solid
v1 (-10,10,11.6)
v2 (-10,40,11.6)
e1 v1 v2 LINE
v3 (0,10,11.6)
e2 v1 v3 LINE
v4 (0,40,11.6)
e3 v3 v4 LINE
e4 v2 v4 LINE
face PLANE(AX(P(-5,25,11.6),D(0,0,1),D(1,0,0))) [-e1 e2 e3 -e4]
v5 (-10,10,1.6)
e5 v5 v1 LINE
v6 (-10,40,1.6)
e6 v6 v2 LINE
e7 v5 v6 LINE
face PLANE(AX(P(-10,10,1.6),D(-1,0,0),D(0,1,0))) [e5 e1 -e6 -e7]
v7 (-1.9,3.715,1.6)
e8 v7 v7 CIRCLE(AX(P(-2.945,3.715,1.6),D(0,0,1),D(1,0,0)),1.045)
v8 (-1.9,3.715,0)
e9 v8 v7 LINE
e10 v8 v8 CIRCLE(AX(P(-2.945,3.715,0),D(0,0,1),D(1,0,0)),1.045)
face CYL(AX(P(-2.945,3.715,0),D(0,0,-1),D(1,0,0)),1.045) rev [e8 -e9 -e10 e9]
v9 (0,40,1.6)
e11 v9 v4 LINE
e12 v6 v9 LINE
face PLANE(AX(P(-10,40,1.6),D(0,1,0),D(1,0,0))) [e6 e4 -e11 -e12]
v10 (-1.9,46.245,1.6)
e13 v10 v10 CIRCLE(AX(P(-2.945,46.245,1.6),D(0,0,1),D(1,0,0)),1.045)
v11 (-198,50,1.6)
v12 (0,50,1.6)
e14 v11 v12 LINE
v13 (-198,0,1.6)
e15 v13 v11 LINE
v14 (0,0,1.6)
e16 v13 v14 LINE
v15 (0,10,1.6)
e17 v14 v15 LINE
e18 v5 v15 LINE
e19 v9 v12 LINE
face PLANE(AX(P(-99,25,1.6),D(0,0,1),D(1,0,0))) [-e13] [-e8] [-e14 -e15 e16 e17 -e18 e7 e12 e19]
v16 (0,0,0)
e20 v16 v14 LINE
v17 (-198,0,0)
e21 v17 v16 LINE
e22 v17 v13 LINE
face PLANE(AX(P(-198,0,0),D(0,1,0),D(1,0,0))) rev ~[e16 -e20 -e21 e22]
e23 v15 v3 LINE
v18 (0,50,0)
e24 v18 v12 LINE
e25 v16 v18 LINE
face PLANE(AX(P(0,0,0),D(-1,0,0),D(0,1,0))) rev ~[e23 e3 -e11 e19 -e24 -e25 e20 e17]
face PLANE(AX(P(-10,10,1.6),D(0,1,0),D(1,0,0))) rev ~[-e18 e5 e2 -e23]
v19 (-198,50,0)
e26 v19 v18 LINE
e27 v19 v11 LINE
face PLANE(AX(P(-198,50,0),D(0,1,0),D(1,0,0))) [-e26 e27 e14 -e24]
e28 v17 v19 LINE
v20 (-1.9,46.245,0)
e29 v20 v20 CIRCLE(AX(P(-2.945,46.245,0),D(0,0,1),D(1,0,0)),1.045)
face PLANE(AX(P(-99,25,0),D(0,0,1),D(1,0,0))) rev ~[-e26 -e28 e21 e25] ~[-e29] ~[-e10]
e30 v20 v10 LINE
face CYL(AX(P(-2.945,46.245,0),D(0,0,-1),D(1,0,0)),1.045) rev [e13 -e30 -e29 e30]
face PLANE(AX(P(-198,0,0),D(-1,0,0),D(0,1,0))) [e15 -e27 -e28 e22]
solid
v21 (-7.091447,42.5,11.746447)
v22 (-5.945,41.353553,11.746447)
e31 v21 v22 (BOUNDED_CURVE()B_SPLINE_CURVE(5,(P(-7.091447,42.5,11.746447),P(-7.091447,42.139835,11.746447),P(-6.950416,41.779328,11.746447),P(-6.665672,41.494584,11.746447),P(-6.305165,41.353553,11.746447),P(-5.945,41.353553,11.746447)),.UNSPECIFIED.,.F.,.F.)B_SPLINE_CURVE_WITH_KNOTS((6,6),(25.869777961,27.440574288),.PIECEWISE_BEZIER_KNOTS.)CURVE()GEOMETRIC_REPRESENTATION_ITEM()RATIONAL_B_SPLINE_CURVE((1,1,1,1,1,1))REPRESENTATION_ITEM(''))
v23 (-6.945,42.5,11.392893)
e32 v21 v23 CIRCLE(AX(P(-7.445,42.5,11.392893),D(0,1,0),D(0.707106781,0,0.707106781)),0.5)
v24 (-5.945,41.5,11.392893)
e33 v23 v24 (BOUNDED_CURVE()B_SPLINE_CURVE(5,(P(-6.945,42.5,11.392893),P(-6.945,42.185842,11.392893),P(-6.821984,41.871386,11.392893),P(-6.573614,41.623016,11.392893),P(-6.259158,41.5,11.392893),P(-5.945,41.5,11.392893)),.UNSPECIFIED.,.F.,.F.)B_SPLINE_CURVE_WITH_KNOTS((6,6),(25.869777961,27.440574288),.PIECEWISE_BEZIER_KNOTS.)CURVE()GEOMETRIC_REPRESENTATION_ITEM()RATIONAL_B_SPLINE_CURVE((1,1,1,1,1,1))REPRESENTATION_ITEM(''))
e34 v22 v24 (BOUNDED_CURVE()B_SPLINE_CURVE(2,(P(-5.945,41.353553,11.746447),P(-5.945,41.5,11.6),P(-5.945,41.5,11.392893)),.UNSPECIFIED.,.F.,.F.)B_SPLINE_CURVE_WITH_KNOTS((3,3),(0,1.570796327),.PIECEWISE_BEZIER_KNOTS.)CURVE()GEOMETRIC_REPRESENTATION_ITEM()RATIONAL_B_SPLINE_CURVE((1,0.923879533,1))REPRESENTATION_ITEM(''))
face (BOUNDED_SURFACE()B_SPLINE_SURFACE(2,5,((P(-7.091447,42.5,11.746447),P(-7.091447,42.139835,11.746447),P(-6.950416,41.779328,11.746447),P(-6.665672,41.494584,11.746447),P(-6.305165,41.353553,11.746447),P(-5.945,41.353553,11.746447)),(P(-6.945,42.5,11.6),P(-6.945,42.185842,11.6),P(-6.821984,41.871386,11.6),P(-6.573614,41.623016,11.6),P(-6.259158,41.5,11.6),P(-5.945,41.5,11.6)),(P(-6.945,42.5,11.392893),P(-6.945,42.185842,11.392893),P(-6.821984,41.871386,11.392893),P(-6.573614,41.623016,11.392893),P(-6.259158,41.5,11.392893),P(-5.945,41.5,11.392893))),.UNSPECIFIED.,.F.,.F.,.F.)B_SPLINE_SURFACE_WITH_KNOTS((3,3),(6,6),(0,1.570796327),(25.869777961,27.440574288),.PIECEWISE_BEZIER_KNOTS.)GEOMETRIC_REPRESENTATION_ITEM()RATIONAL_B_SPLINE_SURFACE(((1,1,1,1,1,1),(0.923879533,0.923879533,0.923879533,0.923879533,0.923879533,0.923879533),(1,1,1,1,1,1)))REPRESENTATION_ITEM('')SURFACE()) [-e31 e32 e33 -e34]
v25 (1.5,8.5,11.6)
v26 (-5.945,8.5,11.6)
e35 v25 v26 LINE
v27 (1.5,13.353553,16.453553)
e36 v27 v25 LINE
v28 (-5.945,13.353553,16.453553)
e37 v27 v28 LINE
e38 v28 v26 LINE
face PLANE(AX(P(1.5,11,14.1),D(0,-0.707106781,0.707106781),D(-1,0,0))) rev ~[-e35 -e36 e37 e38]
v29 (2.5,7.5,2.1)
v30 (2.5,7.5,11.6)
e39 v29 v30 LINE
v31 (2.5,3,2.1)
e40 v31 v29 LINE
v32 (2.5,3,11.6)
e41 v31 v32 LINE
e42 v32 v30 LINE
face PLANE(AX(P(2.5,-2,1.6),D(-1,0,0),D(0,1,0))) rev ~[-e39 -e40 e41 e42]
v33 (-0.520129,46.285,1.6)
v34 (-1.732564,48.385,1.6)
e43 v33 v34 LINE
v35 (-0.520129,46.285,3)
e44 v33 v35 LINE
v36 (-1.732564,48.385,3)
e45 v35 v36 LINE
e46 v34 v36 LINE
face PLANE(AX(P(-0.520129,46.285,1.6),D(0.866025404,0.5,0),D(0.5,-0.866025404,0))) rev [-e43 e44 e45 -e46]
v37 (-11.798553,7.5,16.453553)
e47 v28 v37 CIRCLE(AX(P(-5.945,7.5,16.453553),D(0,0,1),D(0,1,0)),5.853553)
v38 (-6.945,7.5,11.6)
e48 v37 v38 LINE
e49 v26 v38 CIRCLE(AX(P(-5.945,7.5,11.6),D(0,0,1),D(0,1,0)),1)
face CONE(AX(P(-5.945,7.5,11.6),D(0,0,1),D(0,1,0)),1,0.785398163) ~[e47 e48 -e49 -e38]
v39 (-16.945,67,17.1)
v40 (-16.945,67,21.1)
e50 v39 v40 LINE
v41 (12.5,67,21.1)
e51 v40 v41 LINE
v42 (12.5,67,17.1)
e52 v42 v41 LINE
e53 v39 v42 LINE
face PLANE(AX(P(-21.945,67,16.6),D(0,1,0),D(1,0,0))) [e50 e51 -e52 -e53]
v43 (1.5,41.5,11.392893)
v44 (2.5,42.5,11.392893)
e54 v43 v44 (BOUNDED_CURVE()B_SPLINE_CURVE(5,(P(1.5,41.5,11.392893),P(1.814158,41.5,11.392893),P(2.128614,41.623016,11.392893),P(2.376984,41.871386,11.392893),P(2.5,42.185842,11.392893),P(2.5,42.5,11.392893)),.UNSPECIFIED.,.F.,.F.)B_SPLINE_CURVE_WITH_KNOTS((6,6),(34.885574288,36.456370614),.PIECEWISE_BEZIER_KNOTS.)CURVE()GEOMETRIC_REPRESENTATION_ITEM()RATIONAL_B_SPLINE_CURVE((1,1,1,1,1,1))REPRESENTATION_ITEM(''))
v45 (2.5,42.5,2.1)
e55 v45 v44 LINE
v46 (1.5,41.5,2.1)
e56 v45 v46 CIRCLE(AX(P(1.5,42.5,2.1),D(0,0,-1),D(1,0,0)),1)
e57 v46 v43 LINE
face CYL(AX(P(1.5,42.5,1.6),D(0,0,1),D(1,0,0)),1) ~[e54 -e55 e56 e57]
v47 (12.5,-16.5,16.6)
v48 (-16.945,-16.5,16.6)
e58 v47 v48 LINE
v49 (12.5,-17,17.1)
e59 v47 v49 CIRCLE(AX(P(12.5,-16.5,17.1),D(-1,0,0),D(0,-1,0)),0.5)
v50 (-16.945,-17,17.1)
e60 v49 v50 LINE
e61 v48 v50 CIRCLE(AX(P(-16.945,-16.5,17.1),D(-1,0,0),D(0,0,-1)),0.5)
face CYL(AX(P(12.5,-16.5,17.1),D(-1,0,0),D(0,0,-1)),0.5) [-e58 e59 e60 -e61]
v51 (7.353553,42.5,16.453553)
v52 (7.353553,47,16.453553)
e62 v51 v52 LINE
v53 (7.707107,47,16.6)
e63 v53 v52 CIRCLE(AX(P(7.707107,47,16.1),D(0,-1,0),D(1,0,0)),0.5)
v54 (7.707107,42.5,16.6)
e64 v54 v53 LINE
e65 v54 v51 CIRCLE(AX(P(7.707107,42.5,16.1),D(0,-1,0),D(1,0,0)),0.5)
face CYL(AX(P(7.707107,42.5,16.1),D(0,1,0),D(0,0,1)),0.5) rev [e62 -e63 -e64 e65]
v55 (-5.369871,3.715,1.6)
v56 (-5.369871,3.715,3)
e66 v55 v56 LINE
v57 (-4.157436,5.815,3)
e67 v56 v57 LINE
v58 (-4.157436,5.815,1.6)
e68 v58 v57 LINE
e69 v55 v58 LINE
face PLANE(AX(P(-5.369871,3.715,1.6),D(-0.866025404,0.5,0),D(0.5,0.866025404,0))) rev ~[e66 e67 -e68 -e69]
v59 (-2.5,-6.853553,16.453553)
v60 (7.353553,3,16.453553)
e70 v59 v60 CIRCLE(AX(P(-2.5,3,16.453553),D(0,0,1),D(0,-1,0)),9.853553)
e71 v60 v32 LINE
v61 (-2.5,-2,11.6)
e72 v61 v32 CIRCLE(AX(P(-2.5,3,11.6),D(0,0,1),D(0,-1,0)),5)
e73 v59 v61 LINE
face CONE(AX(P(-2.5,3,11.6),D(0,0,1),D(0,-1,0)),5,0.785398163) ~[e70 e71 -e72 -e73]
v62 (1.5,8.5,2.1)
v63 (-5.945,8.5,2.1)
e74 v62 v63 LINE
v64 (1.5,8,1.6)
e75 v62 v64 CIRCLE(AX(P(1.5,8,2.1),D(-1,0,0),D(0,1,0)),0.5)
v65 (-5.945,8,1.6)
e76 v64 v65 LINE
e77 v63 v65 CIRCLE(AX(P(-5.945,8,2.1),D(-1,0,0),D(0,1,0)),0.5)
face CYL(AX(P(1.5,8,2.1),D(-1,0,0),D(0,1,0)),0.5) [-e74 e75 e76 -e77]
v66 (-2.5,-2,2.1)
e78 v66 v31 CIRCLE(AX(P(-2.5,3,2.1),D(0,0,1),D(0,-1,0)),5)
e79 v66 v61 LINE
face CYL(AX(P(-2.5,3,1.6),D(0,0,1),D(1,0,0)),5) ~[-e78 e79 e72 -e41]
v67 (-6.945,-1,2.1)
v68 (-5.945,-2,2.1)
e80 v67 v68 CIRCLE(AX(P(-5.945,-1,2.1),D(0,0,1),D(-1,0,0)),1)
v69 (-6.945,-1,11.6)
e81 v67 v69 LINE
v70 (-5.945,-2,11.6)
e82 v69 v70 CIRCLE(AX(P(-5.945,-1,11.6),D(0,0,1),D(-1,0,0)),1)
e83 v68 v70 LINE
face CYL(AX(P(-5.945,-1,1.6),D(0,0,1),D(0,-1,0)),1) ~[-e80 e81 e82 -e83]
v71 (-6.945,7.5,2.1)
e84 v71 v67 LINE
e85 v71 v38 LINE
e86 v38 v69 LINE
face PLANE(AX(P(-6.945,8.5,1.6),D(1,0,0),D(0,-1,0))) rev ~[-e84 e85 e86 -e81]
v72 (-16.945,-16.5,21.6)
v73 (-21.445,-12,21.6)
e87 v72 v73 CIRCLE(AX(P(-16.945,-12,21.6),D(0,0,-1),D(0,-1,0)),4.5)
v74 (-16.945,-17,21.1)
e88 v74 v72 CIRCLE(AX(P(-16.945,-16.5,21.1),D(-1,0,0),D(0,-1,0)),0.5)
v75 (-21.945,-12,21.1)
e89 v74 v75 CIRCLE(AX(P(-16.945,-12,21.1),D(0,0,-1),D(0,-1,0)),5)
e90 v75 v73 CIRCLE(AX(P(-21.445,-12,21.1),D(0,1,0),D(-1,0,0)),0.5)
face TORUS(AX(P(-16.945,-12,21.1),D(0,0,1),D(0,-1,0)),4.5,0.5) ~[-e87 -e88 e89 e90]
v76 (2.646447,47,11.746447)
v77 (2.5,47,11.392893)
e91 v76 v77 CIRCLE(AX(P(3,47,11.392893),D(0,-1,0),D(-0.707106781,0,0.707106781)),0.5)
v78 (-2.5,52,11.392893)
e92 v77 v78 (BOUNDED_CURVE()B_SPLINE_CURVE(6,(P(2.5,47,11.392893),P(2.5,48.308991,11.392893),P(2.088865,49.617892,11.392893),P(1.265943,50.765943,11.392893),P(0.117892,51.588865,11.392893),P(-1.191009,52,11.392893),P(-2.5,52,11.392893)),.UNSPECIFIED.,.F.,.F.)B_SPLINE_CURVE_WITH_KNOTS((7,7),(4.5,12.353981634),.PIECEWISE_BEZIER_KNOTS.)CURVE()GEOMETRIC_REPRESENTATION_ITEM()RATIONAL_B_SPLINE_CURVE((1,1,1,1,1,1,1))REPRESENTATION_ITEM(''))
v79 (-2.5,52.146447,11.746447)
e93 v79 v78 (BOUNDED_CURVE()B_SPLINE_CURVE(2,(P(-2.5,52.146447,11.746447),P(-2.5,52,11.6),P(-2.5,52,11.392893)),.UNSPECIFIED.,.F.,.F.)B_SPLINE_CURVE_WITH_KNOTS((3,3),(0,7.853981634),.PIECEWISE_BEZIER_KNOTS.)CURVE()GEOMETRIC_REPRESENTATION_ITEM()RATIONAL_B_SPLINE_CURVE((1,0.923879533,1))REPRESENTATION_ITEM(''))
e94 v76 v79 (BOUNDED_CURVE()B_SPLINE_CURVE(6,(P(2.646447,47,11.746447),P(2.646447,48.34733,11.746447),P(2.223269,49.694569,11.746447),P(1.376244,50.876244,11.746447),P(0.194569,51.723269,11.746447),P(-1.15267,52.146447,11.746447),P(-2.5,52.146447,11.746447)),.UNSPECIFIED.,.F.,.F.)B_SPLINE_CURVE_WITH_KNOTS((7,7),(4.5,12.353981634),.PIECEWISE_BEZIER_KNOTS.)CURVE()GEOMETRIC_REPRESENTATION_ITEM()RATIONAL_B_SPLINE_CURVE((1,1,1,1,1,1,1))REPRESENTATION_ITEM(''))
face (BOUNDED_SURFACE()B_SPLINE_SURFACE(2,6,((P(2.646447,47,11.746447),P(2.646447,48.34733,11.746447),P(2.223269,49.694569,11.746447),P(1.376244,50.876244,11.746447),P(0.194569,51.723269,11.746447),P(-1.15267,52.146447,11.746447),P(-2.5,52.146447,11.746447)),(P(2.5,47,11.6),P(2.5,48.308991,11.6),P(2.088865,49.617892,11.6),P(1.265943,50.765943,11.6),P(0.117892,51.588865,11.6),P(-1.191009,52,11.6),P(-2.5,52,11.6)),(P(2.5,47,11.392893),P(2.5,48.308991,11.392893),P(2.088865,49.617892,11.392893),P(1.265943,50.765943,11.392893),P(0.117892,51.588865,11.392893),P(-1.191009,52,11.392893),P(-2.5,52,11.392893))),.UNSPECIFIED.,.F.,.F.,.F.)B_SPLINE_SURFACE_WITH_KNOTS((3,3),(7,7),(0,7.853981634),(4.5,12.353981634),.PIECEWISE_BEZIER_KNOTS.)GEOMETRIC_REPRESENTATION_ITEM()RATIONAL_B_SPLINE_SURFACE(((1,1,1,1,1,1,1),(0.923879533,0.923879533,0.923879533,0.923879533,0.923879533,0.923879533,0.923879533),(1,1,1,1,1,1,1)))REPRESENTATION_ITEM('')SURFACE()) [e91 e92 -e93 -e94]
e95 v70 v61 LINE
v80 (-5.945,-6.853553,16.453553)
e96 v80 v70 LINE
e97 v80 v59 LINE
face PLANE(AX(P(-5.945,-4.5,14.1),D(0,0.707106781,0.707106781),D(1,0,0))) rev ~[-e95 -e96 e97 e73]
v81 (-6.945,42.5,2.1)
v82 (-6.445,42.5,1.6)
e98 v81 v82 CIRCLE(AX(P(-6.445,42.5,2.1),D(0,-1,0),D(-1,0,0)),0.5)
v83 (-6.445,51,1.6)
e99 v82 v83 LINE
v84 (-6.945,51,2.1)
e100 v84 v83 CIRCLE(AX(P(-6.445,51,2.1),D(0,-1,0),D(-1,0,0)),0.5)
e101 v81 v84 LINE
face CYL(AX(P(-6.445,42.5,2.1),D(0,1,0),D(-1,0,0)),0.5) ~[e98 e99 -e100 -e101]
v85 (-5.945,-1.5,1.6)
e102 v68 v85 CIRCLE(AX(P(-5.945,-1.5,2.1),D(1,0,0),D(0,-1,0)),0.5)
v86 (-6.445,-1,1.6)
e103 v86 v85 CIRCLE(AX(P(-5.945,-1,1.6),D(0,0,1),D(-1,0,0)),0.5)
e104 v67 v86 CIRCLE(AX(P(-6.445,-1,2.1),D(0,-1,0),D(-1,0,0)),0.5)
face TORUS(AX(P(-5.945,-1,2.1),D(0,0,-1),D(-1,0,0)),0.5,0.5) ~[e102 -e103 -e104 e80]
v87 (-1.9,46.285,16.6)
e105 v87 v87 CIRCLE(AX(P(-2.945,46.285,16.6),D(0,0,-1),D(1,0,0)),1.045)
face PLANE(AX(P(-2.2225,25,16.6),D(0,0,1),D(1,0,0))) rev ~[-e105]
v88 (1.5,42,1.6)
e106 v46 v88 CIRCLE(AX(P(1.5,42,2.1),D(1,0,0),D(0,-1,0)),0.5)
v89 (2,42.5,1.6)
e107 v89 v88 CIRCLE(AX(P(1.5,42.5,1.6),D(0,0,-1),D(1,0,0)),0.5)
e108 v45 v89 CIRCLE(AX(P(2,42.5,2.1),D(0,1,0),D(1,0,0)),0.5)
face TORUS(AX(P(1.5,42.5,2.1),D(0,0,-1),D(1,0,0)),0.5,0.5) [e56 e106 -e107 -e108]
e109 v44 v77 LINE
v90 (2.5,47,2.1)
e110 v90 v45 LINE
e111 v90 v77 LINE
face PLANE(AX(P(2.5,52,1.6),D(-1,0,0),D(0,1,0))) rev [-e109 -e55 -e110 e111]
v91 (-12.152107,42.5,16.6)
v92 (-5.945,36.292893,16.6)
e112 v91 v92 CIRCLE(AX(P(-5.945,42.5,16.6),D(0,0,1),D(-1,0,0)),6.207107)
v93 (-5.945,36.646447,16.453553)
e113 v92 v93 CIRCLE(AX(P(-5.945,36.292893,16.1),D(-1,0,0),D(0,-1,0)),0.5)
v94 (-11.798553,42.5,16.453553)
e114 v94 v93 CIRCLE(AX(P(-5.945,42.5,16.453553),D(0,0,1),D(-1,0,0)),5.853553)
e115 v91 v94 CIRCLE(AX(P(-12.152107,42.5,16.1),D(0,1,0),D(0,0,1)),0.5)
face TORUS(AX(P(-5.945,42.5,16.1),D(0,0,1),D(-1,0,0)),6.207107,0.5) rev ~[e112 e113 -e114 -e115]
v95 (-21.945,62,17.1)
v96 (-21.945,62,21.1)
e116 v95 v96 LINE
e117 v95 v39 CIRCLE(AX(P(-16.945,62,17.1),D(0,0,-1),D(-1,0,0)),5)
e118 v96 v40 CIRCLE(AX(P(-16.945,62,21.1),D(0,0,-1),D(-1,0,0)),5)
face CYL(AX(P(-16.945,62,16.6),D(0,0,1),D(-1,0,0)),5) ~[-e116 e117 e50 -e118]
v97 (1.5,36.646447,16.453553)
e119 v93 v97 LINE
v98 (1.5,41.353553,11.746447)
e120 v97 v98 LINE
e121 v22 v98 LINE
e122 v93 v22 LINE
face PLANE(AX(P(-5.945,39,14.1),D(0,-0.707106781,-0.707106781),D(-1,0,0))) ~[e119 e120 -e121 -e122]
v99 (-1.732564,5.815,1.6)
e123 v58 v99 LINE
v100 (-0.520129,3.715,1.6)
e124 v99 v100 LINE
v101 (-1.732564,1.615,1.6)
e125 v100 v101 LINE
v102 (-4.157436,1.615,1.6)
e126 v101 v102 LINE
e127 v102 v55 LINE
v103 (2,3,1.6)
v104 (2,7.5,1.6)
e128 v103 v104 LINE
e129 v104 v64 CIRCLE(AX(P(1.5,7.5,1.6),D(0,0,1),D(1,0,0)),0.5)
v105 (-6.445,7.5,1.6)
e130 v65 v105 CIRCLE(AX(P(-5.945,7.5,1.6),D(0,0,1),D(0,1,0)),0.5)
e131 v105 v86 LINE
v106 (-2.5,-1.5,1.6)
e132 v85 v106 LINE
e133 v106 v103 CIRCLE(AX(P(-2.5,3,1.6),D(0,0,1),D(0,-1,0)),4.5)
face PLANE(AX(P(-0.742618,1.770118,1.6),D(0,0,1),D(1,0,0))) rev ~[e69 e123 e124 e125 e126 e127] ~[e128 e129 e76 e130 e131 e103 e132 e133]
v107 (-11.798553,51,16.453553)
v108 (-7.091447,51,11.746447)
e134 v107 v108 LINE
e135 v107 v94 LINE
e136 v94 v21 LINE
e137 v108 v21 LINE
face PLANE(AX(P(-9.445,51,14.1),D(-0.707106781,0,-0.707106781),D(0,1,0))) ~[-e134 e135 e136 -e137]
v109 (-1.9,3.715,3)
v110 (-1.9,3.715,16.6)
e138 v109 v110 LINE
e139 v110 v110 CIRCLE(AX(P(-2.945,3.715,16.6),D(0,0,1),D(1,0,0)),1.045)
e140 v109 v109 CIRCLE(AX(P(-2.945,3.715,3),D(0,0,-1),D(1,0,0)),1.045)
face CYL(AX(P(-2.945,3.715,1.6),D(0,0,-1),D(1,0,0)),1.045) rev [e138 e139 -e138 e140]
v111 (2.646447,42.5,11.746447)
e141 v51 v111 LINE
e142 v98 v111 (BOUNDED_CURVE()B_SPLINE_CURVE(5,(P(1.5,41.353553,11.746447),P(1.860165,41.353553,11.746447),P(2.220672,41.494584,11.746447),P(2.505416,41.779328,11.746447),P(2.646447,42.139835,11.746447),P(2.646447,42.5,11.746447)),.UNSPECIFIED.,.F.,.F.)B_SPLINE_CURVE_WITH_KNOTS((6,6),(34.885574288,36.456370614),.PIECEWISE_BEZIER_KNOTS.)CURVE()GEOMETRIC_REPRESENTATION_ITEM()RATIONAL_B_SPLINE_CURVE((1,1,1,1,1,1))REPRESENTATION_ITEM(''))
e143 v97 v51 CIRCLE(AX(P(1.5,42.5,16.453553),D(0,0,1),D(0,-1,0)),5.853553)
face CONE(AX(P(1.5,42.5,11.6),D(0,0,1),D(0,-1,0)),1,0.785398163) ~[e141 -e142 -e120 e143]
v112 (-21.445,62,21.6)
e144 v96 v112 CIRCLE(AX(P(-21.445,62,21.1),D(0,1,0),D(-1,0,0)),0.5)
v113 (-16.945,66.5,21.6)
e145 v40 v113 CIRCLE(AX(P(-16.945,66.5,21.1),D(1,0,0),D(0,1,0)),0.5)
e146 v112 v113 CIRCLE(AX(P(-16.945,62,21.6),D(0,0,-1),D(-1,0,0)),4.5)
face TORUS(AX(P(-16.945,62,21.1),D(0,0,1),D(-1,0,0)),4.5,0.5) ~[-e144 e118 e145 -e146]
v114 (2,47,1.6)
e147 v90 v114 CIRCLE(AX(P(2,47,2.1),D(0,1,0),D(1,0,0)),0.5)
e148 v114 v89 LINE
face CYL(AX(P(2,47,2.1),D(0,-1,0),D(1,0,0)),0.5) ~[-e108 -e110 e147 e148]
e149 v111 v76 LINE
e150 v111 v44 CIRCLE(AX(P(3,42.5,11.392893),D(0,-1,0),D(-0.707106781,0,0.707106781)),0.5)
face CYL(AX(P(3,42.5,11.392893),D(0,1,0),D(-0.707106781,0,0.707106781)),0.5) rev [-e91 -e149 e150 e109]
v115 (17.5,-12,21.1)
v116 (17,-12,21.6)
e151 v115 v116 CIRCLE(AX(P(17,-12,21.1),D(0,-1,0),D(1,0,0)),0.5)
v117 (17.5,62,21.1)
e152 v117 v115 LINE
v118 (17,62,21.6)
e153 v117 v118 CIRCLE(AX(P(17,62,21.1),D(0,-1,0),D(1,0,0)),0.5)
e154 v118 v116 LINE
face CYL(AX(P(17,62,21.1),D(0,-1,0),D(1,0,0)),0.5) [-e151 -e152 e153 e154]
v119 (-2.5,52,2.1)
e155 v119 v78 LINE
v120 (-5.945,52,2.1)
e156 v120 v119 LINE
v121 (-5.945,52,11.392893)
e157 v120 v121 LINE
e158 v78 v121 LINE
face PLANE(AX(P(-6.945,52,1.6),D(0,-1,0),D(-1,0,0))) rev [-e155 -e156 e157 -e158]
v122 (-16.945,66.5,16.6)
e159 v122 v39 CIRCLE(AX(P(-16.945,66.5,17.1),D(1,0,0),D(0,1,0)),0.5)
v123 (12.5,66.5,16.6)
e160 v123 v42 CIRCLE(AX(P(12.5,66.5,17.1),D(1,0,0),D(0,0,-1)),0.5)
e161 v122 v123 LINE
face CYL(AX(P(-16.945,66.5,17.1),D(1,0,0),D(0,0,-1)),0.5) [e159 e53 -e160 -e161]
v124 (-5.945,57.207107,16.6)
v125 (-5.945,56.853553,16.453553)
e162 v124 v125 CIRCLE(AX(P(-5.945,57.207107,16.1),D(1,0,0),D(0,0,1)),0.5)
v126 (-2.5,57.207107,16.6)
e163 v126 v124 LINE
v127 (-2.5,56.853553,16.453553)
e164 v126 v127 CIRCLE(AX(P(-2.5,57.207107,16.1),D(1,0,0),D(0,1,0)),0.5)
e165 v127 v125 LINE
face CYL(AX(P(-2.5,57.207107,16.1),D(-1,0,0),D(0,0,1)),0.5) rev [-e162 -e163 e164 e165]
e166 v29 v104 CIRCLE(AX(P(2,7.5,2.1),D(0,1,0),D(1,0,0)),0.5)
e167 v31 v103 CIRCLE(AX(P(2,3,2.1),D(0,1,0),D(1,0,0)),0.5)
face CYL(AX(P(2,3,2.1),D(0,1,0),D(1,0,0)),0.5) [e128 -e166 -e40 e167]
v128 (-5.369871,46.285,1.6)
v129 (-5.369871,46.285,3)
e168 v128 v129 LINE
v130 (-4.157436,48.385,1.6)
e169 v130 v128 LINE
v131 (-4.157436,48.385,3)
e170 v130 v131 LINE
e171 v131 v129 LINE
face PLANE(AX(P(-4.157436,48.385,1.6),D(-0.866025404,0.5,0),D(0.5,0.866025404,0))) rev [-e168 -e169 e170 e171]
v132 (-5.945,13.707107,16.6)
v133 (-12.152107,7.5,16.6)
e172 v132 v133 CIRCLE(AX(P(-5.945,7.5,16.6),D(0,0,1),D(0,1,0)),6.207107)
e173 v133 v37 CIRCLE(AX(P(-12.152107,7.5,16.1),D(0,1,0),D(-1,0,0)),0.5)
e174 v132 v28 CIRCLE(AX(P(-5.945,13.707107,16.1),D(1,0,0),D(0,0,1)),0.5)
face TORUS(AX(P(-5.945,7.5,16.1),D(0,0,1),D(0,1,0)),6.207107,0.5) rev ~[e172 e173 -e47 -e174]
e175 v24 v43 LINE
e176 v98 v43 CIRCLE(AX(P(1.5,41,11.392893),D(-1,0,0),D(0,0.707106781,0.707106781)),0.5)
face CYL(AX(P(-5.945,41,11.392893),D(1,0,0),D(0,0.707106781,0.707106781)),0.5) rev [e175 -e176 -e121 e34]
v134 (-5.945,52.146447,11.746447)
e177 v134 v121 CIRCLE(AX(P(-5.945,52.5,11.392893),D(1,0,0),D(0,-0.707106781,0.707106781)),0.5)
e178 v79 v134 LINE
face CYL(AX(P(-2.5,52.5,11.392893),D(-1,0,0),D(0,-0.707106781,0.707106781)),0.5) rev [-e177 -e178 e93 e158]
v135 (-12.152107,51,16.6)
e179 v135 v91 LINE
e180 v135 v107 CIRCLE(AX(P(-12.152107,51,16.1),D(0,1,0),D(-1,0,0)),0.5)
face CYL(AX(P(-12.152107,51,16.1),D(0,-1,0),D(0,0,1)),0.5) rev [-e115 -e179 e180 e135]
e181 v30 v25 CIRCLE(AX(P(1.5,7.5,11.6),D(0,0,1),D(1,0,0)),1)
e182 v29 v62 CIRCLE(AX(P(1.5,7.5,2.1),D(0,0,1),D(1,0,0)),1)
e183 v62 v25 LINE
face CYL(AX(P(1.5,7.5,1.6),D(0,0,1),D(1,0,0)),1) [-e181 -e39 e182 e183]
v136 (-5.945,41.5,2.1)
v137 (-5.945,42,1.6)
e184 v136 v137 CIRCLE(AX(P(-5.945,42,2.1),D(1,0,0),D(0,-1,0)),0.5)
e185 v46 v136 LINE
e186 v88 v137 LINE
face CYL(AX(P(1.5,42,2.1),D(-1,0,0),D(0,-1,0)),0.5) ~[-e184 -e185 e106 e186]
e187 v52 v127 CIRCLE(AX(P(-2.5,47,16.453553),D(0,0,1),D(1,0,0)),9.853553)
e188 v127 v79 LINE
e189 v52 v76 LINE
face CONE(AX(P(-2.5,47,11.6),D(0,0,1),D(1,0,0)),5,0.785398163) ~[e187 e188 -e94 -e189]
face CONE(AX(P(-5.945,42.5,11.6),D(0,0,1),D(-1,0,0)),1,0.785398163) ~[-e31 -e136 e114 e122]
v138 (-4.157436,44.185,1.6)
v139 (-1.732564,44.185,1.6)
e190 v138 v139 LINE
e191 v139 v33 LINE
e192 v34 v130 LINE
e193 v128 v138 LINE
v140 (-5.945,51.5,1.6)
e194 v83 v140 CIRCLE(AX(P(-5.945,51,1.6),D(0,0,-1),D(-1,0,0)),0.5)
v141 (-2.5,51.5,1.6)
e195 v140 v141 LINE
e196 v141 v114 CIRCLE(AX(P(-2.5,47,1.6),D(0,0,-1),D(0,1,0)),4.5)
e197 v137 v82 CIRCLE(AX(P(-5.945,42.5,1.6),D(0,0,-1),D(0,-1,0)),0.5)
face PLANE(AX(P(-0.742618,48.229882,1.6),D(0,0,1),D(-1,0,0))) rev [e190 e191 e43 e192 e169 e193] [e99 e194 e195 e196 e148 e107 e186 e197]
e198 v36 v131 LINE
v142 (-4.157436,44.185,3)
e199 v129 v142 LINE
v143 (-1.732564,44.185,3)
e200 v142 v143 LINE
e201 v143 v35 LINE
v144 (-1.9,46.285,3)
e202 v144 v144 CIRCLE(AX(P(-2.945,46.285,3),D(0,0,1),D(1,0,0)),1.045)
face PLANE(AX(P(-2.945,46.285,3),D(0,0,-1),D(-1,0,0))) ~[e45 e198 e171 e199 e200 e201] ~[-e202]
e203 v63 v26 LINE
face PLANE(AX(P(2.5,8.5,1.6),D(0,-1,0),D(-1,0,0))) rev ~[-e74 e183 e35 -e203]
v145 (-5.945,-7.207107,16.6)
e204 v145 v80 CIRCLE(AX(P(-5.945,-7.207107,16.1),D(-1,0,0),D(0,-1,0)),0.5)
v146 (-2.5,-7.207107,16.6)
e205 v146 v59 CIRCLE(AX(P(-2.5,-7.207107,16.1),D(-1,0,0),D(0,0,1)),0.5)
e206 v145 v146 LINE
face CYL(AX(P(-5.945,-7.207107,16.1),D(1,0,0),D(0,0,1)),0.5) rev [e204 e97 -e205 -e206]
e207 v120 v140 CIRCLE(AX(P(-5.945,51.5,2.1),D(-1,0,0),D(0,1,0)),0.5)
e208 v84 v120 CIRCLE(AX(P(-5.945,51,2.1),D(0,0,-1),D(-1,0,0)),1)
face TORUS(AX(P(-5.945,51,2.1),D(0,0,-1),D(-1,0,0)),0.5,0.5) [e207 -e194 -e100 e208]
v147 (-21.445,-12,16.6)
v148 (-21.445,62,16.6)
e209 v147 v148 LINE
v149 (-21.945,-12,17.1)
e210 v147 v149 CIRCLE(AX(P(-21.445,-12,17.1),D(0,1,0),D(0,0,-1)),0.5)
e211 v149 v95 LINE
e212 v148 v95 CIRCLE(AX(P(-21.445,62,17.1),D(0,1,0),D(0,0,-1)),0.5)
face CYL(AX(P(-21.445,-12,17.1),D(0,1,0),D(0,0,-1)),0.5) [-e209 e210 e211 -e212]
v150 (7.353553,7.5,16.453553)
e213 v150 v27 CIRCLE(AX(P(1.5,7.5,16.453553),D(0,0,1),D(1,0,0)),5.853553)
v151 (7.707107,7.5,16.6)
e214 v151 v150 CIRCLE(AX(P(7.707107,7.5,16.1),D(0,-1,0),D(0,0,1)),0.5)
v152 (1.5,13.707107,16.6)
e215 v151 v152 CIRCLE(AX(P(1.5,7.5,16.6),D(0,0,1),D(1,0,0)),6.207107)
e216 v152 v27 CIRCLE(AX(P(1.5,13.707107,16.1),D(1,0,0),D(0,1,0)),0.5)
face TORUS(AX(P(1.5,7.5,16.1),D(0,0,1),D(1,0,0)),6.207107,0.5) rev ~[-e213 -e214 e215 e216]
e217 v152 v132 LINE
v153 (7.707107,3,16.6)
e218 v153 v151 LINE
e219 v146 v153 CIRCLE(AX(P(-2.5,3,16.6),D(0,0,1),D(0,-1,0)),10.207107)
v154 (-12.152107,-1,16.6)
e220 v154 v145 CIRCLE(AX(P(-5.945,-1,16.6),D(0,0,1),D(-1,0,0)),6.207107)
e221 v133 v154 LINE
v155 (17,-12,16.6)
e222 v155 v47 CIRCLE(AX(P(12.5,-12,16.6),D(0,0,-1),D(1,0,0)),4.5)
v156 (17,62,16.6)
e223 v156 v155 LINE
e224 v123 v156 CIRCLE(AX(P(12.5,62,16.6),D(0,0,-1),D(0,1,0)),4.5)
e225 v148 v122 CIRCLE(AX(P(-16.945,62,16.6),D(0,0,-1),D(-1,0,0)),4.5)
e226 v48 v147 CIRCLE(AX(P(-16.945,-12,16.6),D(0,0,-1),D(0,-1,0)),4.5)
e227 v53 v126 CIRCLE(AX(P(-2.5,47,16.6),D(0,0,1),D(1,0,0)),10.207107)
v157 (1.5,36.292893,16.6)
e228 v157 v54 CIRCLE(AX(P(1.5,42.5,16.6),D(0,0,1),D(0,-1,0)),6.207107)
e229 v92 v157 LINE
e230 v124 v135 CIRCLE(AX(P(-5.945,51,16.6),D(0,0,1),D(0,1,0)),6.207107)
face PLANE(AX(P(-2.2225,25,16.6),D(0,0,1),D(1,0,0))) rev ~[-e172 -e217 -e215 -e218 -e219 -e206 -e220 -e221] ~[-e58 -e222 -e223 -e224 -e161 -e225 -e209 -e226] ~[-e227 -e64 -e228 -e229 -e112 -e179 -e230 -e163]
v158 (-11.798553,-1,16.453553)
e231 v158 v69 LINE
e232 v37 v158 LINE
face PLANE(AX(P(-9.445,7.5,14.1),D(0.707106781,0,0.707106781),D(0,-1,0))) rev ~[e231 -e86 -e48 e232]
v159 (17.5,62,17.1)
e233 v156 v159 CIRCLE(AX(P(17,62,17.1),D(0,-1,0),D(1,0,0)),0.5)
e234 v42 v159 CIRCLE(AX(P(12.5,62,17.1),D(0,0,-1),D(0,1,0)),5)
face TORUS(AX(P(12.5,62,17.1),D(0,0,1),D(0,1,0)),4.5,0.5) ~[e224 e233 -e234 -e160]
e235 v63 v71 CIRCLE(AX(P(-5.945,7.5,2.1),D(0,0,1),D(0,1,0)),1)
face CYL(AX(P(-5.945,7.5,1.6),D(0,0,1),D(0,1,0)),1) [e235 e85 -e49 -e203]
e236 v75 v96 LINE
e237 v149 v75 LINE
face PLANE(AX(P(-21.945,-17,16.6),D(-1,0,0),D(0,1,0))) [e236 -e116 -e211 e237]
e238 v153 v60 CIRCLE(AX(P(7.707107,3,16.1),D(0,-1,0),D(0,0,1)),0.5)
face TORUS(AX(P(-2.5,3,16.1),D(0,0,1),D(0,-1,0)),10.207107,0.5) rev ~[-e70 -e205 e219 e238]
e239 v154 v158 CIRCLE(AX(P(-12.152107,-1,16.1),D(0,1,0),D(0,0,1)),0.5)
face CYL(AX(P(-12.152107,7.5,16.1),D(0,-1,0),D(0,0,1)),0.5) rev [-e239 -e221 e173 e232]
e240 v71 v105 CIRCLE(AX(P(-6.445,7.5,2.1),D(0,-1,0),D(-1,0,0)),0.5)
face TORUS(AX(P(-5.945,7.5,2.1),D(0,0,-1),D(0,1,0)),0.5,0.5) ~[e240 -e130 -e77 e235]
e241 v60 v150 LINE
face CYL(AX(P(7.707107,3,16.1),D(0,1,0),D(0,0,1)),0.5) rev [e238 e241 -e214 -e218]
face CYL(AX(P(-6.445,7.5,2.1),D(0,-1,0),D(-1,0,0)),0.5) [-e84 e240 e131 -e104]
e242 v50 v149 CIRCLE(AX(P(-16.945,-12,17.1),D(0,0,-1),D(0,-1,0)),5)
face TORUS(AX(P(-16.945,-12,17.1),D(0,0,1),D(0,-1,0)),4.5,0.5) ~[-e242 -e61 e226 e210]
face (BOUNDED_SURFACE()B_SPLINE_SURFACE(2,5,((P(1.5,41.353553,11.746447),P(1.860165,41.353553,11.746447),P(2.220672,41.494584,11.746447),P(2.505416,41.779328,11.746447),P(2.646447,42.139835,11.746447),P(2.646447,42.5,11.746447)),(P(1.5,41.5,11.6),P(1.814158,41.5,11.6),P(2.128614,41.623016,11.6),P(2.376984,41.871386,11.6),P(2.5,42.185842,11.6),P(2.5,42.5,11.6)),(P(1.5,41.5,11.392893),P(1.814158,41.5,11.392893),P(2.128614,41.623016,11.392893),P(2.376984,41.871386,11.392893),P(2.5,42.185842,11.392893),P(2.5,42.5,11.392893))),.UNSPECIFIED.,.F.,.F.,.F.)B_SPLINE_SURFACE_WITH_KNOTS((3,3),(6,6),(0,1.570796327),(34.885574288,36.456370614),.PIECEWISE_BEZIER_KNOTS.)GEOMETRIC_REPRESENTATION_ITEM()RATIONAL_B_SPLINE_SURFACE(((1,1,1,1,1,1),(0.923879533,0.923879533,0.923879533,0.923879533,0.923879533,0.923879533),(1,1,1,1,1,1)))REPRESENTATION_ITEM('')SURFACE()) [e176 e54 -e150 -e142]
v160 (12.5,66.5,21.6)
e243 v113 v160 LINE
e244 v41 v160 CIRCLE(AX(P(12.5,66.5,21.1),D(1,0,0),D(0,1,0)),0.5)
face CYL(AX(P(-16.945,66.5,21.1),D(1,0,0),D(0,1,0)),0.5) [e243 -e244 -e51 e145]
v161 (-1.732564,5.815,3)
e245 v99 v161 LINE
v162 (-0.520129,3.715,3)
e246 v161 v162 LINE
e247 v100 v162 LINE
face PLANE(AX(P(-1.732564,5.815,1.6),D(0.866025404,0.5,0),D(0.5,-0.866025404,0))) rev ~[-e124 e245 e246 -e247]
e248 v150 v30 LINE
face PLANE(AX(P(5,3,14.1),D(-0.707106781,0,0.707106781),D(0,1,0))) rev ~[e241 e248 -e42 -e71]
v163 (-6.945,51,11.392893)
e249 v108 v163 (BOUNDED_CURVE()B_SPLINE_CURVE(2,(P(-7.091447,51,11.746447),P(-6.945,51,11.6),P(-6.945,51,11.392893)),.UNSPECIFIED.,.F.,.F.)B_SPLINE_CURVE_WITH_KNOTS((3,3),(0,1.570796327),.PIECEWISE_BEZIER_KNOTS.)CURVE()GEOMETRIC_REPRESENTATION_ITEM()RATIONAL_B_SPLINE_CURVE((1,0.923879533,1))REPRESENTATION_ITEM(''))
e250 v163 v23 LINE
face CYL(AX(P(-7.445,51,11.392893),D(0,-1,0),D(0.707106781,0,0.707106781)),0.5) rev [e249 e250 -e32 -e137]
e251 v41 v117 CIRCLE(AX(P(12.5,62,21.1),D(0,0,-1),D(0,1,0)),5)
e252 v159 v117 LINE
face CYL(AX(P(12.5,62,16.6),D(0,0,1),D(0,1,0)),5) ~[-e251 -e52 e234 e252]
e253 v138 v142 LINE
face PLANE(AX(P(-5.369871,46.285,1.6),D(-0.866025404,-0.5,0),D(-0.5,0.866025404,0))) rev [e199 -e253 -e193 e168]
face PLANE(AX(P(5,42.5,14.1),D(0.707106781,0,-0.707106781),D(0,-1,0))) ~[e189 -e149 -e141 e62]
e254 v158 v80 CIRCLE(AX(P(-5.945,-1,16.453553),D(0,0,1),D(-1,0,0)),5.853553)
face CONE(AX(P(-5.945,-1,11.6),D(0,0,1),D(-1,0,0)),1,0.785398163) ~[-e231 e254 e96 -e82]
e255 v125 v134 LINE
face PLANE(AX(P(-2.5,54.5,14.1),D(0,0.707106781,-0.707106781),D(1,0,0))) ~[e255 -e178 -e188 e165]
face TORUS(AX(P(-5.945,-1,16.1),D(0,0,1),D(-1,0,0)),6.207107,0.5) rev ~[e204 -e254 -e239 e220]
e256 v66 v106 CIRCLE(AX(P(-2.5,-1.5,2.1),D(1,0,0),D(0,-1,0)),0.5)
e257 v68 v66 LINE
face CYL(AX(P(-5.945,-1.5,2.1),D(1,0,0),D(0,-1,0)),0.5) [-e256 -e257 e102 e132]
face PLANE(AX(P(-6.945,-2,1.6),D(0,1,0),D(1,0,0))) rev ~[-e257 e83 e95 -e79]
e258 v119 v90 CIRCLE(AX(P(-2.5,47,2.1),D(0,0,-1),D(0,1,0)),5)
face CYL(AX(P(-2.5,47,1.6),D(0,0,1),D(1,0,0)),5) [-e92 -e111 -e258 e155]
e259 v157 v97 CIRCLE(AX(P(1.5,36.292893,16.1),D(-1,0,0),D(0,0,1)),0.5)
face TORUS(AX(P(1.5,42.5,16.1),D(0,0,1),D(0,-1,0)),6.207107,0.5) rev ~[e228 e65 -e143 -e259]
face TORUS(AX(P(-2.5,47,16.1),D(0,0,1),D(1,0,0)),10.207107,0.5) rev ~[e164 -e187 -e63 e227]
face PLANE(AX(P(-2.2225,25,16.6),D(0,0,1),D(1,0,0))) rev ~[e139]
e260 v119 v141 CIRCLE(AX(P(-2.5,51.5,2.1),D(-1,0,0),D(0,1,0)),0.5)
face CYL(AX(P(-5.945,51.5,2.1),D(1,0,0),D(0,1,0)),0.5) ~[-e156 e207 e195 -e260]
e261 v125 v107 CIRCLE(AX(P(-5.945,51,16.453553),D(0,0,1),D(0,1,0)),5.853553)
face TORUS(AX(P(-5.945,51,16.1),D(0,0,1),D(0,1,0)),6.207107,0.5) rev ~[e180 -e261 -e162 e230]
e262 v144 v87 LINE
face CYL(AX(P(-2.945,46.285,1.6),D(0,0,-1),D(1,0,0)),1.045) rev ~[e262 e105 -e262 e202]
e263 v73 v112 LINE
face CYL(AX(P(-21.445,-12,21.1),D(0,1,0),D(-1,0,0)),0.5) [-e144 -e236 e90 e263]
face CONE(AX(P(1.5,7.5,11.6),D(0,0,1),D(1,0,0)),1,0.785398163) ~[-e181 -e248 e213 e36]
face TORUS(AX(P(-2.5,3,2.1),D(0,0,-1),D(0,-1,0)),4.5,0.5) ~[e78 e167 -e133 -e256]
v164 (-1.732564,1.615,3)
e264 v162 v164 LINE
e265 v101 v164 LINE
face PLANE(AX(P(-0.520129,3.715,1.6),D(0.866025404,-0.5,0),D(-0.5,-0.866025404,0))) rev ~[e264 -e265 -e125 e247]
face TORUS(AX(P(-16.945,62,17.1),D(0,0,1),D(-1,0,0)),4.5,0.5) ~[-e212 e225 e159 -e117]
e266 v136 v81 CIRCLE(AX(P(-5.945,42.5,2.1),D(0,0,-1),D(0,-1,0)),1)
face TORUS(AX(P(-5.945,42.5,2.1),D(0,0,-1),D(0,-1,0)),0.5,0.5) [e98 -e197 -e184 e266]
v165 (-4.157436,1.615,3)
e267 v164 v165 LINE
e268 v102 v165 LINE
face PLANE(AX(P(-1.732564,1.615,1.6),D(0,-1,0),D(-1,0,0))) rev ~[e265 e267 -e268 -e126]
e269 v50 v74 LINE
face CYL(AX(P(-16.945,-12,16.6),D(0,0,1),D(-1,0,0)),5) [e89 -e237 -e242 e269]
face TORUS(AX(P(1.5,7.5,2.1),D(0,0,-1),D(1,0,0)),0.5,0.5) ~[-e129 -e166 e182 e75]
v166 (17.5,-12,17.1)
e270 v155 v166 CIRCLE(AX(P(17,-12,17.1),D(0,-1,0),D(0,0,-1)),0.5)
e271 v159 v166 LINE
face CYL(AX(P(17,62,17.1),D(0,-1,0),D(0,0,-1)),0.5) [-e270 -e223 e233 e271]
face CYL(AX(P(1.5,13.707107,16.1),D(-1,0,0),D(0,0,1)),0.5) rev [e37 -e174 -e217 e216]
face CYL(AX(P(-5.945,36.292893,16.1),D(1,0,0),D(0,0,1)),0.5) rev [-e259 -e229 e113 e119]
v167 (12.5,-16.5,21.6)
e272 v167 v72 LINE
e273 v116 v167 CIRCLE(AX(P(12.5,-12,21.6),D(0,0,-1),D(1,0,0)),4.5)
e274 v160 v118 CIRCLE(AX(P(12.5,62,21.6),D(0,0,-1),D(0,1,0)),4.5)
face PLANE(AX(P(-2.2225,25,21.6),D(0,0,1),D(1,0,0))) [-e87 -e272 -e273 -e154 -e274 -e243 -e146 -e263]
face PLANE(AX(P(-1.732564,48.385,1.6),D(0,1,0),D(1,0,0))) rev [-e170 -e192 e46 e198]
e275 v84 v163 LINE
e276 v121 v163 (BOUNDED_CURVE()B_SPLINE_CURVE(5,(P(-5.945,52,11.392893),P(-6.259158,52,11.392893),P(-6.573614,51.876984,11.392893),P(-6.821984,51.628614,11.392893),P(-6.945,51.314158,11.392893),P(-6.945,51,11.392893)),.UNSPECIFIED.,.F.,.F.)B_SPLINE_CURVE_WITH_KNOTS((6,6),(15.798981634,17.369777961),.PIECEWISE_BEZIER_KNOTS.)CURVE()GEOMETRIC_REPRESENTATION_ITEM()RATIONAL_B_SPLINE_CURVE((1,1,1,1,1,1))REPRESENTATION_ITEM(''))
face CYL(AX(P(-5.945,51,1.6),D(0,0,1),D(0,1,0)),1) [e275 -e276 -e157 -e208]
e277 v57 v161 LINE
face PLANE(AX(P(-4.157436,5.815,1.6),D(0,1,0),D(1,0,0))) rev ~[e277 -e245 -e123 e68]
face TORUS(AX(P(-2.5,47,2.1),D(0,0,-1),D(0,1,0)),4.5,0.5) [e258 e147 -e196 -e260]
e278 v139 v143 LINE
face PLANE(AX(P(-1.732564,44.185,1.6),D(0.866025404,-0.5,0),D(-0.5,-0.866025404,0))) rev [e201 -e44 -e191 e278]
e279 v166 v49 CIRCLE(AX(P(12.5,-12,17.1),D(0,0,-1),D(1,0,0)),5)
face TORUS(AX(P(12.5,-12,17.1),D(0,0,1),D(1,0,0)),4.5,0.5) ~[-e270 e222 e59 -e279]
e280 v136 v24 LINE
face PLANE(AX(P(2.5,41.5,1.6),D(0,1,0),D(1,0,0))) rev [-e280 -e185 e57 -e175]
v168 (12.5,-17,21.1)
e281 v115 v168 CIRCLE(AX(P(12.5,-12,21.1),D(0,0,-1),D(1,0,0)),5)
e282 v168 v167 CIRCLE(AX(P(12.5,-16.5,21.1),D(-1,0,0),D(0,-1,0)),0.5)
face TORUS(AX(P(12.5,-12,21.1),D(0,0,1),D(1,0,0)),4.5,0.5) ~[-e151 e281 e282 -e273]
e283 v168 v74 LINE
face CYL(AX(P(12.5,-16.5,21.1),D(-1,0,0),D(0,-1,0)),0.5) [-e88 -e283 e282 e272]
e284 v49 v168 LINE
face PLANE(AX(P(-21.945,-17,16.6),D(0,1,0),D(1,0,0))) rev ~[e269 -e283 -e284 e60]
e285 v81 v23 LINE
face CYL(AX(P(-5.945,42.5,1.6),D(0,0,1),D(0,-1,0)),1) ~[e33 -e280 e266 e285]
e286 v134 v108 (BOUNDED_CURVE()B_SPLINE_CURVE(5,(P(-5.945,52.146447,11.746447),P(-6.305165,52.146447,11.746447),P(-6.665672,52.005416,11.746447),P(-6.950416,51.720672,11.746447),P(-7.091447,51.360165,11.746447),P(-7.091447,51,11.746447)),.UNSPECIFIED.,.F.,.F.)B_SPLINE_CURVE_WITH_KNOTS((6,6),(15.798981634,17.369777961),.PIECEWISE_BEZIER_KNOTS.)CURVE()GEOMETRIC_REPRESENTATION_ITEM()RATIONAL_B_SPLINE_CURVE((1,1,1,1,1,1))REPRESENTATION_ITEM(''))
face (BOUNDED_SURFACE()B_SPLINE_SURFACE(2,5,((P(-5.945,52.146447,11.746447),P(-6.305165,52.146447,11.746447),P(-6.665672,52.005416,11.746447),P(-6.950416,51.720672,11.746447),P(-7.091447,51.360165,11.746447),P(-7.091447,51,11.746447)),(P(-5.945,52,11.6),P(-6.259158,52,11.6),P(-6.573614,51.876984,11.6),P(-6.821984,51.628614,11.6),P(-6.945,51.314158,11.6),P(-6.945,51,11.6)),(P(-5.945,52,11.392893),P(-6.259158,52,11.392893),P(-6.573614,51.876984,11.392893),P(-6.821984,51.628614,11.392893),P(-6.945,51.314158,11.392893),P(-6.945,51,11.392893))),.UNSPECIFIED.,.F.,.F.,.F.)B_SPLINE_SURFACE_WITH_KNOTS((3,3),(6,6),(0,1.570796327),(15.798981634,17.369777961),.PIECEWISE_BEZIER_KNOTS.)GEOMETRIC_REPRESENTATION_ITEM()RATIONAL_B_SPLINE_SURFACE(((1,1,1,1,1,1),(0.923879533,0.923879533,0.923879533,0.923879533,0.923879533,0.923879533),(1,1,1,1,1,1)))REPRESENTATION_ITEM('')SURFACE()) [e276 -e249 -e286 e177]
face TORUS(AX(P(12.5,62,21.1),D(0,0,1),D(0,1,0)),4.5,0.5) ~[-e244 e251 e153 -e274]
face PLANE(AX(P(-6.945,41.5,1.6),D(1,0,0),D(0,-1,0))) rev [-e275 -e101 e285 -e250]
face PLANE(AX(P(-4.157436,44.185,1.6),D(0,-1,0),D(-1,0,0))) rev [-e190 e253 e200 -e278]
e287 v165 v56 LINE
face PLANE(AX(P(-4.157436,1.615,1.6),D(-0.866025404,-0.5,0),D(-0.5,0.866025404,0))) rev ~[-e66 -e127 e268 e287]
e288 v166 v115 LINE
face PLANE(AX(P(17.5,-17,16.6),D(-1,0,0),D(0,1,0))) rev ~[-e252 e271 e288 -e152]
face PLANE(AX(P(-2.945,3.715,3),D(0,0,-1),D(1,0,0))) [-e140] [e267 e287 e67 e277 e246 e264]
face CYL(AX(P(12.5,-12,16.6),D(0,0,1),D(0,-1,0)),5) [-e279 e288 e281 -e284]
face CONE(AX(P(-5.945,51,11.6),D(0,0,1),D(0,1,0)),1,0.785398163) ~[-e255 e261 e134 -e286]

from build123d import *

# Parameters (mm, degrees)
F0_W      = 198
F0_H      = 50
F0_R      = 1.045
F1_DEPTH  = 1.6
F2_W      = 10
F2_H      = 30
F3_DEPTH  = 10
F4_W      = 6.945
F4_H      = 8.5
F4_R      = 1.045
F5_DEPTH  = 15
F6_R      = 5
F8_DEPTH  = 1.4
F9_R      = 1
F15_W     = 39.445
F15_H     = 84
F15_R     = 1.045
F16_DEPTH = 5
F17_SIZE  = 5
F18_R     = 5
F19_R     = 0.5


with BuildPart() as f1:
    # F0 (on Top) → F1 (new body)
    with BuildSketch(Plane.XY):
        with Locations((-99, 25)):
            Rectangle(F0_W, F0_H)
        with Locations((-2.945, 3.715)):
            Circle(F0_R, mode=Mode.SUBTRACT)
        with Locations((-2.945, 46.245)):
            Circle(F0_R, mode=Mode.SUBTRACT)
    extrude(amount=F1_DEPTH)

    # F2 (on face) → F3 (join)
    with BuildSketch(Plane.XY.offset(1.6)):
        with Locations((-5, 25)):
            Rectangle(F2_W, F2_H)
    extrude(amount=F3_DEPTH)


with BuildPart() as f5:
    # F4 (on face) → F5 (new body)
    with BuildSketch(Plane.XY.offset(1.6)):
        Polygon((2.5, 8.5), (0, 8.5), (0, 0), (-6.945, 0), (-6.945, -2), (2.5, -2), align=None)
        with Locations((-3.4725, 4.25)):
            Rectangle(F4_W, F4_H)
        with Locations((-2.945, 3.715)):
            Circle(F4_R, mode=Mode.SUBTRACT)
    extrude(amount=F5_DEPTH)

    # F6
    f6_edges = [f5.edges().sort_by_distance(p)[0] for p in [
        (2.5, -2, 9.1),
    ]]
    fillet(f6_edges, radius=F6_R)

    # F7 (on face) → F8 (cut)
    with BuildSketch(Plane(origin=(0, 0, 1.6), x_dir=(1, 0, 0), z_dir=(0, 0, -1))):
        Polygon((-0.5201288694, -3.715), (-1.7325644347, -1.615), (-4.1574355653, -1.615), (-5.3698711306, -3.715), (-4.1574355653, -5.815), (-1.7325644347, -5.815), align=None)
    extrude(amount=-F8_DEPTH, mode=Mode.SUBTRACT)

    # F9
    f9_edges = [f5.edges().sort_by_distance(p)[0] for p in [
        (-6.945, -2, 9.1),
        (2.5, 8.5, 9.1),
        (-6.945, 8.5, 9.1),
    ]]
    fillet(f9_edges, radius=F9_R)


with BuildPart() as f14_1:
    # F14: instance of F5
    add(f5.part.mirror(Plane.ZX.offset(25)))


with BuildPart() as f5_1:
    add(f5.part)

    add(f14_1.part)  # F16 merges F14_1
    # F15 (on face) → F16 (join)
    with BuildSketch(Plane.XY.offset(16.6)):
        with Locations((-2.2225, 25)):
            Rectangle(F15_W, F15_H)
        with BuildLine():
            Line((-2.5, -2), (-5.945, -2))
            ThreePointArc((-5.945, -2), (-6.6521067812, -1.7071067812), (-6.945, -1))
            Line((-6.945, -1), (-6.945, 7.5))
            ThreePointArc((-6.945, 7.5), (-6.6521067812, 8.2071067812), (-5.945, 8.5))
            Line((-5.945, 8.5), (1.5, 8.5))
            ThreePointArc((1.5, 8.5), (2.2071067812, 8.2071067812), (2.5, 7.5))
            Line((2.5, 7.5), (2.5, 3))
            ThreePointArc((2.5, 3), (1.0355339059, -0.5355339059), (-2.5, -2))
        make_face(mode=Mode.SUBTRACT)
        with BuildLine():
            ThreePointArc((-6.945, -1), (-6.6521067812, -1.7071067812), (-5.945, -2))
            Line((-5.945, -2), (-2.5, -2))
            ThreePointArc((-2.5, -2), (1.0355339059, -0.5355339059), (2.5, 3))
            Line((2.5, 3), (2.5, 7.5))
            ThreePointArc((2.5, 7.5), (2.2071067812, 8.2071067812), (1.5, 8.5))
            Line((1.5, 8.5), (-5.945, 8.5))
            ThreePointArc((-5.945, 8.5), (-6.6521067812, 8.2071067812), (-6.945, 7.5))
            Line((-6.945, 7.5), (-6.945, -1))
        make_face()
        with Locations((-2.945, 3.715)):
            Circle(F15_R, mode=Mode.SUBTRACT)
        with Locations((-2.945, 3.715)):
            Circle(F15_R)
    extrude(amount=F16_DEPTH)

    # F17
    f17_edges = [f5_1.edges().sort_by_distance(p)[0] for p in [
        (1.035534, 50.535534, 16.6),
        (2.5, 5.25, 16.6),
    ]]
    chamfer(f17_edges, length=F17_SIZE)

    # F18
    f18_edges = [f5_1.edges().sort_by_distance(p)[0] for p in [
        (-21.945, 67, 19.1),
        (17.5, 67, 19.1),
        (17.5, -17, 19.1),
        (-21.945, -17, 19.1),
    ]]
    fillet(f18_edges, radius=F18_R)

    # F19
    f19_edges = [f5_1.edges().sort_by_distance(p)[0] for p in [
        (-21.945, 25, 16.6),
        (-20.480534, 65.535534, 16.6),
        (-20.480534, -15.535534, 16.6),
        (-2.2225, 67, 16.6),
        (-2.2225, -17, 16.6),
        (16.035534, 65.535534, 16.6),
        (16.035534, -15.535534, 16.6),
        (17.5, 25, 16.6),
        (4.571068, 54.071068, 16.6),
        (-4.2225, 57, 16.6),
        (7.5, 44.75, 16.6),
        (-10.187641, 55.242641, 16.6),
        (5.742641, 38.257359, 16.6),
        (-11.945, 46.75, 16.6),
        (-2.2225, 36.5, 16.6),
        (-10.187641, 38.257359, 16.6),
        (7.5, 5.25, 16.6),
        (4.571068, -4.071068, 16.6),
        (5.742641, 11.742641, 16.6),
        (-4.2225, -7, 16.6),
        (-2.2225, 13.5, 16.6),
        (-10.187641, -5.242641, 16.6),
        (-10.187641, 11.742641, 16.6),
        (-11.945, 3.25, 16.6),
        (-21.945, 25, 21.6),
        (-20.480534, 65.535534, 21.6),
        (-20.480534, -15.535534, 21.6),
        (-2.2225, 67, 21.6),
        (-2.2225, -17, 21.6),
        (16.035534, 65.535534, 21.6),
        (16.035534, -15.535534, 21.6),
        (17.5, 25, 21.6),
        (2.5, 44.75, 11.6),
        (-4.2225, -2, 1.6),
        (-2.2225, 41.5, 1.6),
    ]]
    fillet(f19_edges, radius=F19_R)


solid = Compound([f1.part, f5_1.part])
